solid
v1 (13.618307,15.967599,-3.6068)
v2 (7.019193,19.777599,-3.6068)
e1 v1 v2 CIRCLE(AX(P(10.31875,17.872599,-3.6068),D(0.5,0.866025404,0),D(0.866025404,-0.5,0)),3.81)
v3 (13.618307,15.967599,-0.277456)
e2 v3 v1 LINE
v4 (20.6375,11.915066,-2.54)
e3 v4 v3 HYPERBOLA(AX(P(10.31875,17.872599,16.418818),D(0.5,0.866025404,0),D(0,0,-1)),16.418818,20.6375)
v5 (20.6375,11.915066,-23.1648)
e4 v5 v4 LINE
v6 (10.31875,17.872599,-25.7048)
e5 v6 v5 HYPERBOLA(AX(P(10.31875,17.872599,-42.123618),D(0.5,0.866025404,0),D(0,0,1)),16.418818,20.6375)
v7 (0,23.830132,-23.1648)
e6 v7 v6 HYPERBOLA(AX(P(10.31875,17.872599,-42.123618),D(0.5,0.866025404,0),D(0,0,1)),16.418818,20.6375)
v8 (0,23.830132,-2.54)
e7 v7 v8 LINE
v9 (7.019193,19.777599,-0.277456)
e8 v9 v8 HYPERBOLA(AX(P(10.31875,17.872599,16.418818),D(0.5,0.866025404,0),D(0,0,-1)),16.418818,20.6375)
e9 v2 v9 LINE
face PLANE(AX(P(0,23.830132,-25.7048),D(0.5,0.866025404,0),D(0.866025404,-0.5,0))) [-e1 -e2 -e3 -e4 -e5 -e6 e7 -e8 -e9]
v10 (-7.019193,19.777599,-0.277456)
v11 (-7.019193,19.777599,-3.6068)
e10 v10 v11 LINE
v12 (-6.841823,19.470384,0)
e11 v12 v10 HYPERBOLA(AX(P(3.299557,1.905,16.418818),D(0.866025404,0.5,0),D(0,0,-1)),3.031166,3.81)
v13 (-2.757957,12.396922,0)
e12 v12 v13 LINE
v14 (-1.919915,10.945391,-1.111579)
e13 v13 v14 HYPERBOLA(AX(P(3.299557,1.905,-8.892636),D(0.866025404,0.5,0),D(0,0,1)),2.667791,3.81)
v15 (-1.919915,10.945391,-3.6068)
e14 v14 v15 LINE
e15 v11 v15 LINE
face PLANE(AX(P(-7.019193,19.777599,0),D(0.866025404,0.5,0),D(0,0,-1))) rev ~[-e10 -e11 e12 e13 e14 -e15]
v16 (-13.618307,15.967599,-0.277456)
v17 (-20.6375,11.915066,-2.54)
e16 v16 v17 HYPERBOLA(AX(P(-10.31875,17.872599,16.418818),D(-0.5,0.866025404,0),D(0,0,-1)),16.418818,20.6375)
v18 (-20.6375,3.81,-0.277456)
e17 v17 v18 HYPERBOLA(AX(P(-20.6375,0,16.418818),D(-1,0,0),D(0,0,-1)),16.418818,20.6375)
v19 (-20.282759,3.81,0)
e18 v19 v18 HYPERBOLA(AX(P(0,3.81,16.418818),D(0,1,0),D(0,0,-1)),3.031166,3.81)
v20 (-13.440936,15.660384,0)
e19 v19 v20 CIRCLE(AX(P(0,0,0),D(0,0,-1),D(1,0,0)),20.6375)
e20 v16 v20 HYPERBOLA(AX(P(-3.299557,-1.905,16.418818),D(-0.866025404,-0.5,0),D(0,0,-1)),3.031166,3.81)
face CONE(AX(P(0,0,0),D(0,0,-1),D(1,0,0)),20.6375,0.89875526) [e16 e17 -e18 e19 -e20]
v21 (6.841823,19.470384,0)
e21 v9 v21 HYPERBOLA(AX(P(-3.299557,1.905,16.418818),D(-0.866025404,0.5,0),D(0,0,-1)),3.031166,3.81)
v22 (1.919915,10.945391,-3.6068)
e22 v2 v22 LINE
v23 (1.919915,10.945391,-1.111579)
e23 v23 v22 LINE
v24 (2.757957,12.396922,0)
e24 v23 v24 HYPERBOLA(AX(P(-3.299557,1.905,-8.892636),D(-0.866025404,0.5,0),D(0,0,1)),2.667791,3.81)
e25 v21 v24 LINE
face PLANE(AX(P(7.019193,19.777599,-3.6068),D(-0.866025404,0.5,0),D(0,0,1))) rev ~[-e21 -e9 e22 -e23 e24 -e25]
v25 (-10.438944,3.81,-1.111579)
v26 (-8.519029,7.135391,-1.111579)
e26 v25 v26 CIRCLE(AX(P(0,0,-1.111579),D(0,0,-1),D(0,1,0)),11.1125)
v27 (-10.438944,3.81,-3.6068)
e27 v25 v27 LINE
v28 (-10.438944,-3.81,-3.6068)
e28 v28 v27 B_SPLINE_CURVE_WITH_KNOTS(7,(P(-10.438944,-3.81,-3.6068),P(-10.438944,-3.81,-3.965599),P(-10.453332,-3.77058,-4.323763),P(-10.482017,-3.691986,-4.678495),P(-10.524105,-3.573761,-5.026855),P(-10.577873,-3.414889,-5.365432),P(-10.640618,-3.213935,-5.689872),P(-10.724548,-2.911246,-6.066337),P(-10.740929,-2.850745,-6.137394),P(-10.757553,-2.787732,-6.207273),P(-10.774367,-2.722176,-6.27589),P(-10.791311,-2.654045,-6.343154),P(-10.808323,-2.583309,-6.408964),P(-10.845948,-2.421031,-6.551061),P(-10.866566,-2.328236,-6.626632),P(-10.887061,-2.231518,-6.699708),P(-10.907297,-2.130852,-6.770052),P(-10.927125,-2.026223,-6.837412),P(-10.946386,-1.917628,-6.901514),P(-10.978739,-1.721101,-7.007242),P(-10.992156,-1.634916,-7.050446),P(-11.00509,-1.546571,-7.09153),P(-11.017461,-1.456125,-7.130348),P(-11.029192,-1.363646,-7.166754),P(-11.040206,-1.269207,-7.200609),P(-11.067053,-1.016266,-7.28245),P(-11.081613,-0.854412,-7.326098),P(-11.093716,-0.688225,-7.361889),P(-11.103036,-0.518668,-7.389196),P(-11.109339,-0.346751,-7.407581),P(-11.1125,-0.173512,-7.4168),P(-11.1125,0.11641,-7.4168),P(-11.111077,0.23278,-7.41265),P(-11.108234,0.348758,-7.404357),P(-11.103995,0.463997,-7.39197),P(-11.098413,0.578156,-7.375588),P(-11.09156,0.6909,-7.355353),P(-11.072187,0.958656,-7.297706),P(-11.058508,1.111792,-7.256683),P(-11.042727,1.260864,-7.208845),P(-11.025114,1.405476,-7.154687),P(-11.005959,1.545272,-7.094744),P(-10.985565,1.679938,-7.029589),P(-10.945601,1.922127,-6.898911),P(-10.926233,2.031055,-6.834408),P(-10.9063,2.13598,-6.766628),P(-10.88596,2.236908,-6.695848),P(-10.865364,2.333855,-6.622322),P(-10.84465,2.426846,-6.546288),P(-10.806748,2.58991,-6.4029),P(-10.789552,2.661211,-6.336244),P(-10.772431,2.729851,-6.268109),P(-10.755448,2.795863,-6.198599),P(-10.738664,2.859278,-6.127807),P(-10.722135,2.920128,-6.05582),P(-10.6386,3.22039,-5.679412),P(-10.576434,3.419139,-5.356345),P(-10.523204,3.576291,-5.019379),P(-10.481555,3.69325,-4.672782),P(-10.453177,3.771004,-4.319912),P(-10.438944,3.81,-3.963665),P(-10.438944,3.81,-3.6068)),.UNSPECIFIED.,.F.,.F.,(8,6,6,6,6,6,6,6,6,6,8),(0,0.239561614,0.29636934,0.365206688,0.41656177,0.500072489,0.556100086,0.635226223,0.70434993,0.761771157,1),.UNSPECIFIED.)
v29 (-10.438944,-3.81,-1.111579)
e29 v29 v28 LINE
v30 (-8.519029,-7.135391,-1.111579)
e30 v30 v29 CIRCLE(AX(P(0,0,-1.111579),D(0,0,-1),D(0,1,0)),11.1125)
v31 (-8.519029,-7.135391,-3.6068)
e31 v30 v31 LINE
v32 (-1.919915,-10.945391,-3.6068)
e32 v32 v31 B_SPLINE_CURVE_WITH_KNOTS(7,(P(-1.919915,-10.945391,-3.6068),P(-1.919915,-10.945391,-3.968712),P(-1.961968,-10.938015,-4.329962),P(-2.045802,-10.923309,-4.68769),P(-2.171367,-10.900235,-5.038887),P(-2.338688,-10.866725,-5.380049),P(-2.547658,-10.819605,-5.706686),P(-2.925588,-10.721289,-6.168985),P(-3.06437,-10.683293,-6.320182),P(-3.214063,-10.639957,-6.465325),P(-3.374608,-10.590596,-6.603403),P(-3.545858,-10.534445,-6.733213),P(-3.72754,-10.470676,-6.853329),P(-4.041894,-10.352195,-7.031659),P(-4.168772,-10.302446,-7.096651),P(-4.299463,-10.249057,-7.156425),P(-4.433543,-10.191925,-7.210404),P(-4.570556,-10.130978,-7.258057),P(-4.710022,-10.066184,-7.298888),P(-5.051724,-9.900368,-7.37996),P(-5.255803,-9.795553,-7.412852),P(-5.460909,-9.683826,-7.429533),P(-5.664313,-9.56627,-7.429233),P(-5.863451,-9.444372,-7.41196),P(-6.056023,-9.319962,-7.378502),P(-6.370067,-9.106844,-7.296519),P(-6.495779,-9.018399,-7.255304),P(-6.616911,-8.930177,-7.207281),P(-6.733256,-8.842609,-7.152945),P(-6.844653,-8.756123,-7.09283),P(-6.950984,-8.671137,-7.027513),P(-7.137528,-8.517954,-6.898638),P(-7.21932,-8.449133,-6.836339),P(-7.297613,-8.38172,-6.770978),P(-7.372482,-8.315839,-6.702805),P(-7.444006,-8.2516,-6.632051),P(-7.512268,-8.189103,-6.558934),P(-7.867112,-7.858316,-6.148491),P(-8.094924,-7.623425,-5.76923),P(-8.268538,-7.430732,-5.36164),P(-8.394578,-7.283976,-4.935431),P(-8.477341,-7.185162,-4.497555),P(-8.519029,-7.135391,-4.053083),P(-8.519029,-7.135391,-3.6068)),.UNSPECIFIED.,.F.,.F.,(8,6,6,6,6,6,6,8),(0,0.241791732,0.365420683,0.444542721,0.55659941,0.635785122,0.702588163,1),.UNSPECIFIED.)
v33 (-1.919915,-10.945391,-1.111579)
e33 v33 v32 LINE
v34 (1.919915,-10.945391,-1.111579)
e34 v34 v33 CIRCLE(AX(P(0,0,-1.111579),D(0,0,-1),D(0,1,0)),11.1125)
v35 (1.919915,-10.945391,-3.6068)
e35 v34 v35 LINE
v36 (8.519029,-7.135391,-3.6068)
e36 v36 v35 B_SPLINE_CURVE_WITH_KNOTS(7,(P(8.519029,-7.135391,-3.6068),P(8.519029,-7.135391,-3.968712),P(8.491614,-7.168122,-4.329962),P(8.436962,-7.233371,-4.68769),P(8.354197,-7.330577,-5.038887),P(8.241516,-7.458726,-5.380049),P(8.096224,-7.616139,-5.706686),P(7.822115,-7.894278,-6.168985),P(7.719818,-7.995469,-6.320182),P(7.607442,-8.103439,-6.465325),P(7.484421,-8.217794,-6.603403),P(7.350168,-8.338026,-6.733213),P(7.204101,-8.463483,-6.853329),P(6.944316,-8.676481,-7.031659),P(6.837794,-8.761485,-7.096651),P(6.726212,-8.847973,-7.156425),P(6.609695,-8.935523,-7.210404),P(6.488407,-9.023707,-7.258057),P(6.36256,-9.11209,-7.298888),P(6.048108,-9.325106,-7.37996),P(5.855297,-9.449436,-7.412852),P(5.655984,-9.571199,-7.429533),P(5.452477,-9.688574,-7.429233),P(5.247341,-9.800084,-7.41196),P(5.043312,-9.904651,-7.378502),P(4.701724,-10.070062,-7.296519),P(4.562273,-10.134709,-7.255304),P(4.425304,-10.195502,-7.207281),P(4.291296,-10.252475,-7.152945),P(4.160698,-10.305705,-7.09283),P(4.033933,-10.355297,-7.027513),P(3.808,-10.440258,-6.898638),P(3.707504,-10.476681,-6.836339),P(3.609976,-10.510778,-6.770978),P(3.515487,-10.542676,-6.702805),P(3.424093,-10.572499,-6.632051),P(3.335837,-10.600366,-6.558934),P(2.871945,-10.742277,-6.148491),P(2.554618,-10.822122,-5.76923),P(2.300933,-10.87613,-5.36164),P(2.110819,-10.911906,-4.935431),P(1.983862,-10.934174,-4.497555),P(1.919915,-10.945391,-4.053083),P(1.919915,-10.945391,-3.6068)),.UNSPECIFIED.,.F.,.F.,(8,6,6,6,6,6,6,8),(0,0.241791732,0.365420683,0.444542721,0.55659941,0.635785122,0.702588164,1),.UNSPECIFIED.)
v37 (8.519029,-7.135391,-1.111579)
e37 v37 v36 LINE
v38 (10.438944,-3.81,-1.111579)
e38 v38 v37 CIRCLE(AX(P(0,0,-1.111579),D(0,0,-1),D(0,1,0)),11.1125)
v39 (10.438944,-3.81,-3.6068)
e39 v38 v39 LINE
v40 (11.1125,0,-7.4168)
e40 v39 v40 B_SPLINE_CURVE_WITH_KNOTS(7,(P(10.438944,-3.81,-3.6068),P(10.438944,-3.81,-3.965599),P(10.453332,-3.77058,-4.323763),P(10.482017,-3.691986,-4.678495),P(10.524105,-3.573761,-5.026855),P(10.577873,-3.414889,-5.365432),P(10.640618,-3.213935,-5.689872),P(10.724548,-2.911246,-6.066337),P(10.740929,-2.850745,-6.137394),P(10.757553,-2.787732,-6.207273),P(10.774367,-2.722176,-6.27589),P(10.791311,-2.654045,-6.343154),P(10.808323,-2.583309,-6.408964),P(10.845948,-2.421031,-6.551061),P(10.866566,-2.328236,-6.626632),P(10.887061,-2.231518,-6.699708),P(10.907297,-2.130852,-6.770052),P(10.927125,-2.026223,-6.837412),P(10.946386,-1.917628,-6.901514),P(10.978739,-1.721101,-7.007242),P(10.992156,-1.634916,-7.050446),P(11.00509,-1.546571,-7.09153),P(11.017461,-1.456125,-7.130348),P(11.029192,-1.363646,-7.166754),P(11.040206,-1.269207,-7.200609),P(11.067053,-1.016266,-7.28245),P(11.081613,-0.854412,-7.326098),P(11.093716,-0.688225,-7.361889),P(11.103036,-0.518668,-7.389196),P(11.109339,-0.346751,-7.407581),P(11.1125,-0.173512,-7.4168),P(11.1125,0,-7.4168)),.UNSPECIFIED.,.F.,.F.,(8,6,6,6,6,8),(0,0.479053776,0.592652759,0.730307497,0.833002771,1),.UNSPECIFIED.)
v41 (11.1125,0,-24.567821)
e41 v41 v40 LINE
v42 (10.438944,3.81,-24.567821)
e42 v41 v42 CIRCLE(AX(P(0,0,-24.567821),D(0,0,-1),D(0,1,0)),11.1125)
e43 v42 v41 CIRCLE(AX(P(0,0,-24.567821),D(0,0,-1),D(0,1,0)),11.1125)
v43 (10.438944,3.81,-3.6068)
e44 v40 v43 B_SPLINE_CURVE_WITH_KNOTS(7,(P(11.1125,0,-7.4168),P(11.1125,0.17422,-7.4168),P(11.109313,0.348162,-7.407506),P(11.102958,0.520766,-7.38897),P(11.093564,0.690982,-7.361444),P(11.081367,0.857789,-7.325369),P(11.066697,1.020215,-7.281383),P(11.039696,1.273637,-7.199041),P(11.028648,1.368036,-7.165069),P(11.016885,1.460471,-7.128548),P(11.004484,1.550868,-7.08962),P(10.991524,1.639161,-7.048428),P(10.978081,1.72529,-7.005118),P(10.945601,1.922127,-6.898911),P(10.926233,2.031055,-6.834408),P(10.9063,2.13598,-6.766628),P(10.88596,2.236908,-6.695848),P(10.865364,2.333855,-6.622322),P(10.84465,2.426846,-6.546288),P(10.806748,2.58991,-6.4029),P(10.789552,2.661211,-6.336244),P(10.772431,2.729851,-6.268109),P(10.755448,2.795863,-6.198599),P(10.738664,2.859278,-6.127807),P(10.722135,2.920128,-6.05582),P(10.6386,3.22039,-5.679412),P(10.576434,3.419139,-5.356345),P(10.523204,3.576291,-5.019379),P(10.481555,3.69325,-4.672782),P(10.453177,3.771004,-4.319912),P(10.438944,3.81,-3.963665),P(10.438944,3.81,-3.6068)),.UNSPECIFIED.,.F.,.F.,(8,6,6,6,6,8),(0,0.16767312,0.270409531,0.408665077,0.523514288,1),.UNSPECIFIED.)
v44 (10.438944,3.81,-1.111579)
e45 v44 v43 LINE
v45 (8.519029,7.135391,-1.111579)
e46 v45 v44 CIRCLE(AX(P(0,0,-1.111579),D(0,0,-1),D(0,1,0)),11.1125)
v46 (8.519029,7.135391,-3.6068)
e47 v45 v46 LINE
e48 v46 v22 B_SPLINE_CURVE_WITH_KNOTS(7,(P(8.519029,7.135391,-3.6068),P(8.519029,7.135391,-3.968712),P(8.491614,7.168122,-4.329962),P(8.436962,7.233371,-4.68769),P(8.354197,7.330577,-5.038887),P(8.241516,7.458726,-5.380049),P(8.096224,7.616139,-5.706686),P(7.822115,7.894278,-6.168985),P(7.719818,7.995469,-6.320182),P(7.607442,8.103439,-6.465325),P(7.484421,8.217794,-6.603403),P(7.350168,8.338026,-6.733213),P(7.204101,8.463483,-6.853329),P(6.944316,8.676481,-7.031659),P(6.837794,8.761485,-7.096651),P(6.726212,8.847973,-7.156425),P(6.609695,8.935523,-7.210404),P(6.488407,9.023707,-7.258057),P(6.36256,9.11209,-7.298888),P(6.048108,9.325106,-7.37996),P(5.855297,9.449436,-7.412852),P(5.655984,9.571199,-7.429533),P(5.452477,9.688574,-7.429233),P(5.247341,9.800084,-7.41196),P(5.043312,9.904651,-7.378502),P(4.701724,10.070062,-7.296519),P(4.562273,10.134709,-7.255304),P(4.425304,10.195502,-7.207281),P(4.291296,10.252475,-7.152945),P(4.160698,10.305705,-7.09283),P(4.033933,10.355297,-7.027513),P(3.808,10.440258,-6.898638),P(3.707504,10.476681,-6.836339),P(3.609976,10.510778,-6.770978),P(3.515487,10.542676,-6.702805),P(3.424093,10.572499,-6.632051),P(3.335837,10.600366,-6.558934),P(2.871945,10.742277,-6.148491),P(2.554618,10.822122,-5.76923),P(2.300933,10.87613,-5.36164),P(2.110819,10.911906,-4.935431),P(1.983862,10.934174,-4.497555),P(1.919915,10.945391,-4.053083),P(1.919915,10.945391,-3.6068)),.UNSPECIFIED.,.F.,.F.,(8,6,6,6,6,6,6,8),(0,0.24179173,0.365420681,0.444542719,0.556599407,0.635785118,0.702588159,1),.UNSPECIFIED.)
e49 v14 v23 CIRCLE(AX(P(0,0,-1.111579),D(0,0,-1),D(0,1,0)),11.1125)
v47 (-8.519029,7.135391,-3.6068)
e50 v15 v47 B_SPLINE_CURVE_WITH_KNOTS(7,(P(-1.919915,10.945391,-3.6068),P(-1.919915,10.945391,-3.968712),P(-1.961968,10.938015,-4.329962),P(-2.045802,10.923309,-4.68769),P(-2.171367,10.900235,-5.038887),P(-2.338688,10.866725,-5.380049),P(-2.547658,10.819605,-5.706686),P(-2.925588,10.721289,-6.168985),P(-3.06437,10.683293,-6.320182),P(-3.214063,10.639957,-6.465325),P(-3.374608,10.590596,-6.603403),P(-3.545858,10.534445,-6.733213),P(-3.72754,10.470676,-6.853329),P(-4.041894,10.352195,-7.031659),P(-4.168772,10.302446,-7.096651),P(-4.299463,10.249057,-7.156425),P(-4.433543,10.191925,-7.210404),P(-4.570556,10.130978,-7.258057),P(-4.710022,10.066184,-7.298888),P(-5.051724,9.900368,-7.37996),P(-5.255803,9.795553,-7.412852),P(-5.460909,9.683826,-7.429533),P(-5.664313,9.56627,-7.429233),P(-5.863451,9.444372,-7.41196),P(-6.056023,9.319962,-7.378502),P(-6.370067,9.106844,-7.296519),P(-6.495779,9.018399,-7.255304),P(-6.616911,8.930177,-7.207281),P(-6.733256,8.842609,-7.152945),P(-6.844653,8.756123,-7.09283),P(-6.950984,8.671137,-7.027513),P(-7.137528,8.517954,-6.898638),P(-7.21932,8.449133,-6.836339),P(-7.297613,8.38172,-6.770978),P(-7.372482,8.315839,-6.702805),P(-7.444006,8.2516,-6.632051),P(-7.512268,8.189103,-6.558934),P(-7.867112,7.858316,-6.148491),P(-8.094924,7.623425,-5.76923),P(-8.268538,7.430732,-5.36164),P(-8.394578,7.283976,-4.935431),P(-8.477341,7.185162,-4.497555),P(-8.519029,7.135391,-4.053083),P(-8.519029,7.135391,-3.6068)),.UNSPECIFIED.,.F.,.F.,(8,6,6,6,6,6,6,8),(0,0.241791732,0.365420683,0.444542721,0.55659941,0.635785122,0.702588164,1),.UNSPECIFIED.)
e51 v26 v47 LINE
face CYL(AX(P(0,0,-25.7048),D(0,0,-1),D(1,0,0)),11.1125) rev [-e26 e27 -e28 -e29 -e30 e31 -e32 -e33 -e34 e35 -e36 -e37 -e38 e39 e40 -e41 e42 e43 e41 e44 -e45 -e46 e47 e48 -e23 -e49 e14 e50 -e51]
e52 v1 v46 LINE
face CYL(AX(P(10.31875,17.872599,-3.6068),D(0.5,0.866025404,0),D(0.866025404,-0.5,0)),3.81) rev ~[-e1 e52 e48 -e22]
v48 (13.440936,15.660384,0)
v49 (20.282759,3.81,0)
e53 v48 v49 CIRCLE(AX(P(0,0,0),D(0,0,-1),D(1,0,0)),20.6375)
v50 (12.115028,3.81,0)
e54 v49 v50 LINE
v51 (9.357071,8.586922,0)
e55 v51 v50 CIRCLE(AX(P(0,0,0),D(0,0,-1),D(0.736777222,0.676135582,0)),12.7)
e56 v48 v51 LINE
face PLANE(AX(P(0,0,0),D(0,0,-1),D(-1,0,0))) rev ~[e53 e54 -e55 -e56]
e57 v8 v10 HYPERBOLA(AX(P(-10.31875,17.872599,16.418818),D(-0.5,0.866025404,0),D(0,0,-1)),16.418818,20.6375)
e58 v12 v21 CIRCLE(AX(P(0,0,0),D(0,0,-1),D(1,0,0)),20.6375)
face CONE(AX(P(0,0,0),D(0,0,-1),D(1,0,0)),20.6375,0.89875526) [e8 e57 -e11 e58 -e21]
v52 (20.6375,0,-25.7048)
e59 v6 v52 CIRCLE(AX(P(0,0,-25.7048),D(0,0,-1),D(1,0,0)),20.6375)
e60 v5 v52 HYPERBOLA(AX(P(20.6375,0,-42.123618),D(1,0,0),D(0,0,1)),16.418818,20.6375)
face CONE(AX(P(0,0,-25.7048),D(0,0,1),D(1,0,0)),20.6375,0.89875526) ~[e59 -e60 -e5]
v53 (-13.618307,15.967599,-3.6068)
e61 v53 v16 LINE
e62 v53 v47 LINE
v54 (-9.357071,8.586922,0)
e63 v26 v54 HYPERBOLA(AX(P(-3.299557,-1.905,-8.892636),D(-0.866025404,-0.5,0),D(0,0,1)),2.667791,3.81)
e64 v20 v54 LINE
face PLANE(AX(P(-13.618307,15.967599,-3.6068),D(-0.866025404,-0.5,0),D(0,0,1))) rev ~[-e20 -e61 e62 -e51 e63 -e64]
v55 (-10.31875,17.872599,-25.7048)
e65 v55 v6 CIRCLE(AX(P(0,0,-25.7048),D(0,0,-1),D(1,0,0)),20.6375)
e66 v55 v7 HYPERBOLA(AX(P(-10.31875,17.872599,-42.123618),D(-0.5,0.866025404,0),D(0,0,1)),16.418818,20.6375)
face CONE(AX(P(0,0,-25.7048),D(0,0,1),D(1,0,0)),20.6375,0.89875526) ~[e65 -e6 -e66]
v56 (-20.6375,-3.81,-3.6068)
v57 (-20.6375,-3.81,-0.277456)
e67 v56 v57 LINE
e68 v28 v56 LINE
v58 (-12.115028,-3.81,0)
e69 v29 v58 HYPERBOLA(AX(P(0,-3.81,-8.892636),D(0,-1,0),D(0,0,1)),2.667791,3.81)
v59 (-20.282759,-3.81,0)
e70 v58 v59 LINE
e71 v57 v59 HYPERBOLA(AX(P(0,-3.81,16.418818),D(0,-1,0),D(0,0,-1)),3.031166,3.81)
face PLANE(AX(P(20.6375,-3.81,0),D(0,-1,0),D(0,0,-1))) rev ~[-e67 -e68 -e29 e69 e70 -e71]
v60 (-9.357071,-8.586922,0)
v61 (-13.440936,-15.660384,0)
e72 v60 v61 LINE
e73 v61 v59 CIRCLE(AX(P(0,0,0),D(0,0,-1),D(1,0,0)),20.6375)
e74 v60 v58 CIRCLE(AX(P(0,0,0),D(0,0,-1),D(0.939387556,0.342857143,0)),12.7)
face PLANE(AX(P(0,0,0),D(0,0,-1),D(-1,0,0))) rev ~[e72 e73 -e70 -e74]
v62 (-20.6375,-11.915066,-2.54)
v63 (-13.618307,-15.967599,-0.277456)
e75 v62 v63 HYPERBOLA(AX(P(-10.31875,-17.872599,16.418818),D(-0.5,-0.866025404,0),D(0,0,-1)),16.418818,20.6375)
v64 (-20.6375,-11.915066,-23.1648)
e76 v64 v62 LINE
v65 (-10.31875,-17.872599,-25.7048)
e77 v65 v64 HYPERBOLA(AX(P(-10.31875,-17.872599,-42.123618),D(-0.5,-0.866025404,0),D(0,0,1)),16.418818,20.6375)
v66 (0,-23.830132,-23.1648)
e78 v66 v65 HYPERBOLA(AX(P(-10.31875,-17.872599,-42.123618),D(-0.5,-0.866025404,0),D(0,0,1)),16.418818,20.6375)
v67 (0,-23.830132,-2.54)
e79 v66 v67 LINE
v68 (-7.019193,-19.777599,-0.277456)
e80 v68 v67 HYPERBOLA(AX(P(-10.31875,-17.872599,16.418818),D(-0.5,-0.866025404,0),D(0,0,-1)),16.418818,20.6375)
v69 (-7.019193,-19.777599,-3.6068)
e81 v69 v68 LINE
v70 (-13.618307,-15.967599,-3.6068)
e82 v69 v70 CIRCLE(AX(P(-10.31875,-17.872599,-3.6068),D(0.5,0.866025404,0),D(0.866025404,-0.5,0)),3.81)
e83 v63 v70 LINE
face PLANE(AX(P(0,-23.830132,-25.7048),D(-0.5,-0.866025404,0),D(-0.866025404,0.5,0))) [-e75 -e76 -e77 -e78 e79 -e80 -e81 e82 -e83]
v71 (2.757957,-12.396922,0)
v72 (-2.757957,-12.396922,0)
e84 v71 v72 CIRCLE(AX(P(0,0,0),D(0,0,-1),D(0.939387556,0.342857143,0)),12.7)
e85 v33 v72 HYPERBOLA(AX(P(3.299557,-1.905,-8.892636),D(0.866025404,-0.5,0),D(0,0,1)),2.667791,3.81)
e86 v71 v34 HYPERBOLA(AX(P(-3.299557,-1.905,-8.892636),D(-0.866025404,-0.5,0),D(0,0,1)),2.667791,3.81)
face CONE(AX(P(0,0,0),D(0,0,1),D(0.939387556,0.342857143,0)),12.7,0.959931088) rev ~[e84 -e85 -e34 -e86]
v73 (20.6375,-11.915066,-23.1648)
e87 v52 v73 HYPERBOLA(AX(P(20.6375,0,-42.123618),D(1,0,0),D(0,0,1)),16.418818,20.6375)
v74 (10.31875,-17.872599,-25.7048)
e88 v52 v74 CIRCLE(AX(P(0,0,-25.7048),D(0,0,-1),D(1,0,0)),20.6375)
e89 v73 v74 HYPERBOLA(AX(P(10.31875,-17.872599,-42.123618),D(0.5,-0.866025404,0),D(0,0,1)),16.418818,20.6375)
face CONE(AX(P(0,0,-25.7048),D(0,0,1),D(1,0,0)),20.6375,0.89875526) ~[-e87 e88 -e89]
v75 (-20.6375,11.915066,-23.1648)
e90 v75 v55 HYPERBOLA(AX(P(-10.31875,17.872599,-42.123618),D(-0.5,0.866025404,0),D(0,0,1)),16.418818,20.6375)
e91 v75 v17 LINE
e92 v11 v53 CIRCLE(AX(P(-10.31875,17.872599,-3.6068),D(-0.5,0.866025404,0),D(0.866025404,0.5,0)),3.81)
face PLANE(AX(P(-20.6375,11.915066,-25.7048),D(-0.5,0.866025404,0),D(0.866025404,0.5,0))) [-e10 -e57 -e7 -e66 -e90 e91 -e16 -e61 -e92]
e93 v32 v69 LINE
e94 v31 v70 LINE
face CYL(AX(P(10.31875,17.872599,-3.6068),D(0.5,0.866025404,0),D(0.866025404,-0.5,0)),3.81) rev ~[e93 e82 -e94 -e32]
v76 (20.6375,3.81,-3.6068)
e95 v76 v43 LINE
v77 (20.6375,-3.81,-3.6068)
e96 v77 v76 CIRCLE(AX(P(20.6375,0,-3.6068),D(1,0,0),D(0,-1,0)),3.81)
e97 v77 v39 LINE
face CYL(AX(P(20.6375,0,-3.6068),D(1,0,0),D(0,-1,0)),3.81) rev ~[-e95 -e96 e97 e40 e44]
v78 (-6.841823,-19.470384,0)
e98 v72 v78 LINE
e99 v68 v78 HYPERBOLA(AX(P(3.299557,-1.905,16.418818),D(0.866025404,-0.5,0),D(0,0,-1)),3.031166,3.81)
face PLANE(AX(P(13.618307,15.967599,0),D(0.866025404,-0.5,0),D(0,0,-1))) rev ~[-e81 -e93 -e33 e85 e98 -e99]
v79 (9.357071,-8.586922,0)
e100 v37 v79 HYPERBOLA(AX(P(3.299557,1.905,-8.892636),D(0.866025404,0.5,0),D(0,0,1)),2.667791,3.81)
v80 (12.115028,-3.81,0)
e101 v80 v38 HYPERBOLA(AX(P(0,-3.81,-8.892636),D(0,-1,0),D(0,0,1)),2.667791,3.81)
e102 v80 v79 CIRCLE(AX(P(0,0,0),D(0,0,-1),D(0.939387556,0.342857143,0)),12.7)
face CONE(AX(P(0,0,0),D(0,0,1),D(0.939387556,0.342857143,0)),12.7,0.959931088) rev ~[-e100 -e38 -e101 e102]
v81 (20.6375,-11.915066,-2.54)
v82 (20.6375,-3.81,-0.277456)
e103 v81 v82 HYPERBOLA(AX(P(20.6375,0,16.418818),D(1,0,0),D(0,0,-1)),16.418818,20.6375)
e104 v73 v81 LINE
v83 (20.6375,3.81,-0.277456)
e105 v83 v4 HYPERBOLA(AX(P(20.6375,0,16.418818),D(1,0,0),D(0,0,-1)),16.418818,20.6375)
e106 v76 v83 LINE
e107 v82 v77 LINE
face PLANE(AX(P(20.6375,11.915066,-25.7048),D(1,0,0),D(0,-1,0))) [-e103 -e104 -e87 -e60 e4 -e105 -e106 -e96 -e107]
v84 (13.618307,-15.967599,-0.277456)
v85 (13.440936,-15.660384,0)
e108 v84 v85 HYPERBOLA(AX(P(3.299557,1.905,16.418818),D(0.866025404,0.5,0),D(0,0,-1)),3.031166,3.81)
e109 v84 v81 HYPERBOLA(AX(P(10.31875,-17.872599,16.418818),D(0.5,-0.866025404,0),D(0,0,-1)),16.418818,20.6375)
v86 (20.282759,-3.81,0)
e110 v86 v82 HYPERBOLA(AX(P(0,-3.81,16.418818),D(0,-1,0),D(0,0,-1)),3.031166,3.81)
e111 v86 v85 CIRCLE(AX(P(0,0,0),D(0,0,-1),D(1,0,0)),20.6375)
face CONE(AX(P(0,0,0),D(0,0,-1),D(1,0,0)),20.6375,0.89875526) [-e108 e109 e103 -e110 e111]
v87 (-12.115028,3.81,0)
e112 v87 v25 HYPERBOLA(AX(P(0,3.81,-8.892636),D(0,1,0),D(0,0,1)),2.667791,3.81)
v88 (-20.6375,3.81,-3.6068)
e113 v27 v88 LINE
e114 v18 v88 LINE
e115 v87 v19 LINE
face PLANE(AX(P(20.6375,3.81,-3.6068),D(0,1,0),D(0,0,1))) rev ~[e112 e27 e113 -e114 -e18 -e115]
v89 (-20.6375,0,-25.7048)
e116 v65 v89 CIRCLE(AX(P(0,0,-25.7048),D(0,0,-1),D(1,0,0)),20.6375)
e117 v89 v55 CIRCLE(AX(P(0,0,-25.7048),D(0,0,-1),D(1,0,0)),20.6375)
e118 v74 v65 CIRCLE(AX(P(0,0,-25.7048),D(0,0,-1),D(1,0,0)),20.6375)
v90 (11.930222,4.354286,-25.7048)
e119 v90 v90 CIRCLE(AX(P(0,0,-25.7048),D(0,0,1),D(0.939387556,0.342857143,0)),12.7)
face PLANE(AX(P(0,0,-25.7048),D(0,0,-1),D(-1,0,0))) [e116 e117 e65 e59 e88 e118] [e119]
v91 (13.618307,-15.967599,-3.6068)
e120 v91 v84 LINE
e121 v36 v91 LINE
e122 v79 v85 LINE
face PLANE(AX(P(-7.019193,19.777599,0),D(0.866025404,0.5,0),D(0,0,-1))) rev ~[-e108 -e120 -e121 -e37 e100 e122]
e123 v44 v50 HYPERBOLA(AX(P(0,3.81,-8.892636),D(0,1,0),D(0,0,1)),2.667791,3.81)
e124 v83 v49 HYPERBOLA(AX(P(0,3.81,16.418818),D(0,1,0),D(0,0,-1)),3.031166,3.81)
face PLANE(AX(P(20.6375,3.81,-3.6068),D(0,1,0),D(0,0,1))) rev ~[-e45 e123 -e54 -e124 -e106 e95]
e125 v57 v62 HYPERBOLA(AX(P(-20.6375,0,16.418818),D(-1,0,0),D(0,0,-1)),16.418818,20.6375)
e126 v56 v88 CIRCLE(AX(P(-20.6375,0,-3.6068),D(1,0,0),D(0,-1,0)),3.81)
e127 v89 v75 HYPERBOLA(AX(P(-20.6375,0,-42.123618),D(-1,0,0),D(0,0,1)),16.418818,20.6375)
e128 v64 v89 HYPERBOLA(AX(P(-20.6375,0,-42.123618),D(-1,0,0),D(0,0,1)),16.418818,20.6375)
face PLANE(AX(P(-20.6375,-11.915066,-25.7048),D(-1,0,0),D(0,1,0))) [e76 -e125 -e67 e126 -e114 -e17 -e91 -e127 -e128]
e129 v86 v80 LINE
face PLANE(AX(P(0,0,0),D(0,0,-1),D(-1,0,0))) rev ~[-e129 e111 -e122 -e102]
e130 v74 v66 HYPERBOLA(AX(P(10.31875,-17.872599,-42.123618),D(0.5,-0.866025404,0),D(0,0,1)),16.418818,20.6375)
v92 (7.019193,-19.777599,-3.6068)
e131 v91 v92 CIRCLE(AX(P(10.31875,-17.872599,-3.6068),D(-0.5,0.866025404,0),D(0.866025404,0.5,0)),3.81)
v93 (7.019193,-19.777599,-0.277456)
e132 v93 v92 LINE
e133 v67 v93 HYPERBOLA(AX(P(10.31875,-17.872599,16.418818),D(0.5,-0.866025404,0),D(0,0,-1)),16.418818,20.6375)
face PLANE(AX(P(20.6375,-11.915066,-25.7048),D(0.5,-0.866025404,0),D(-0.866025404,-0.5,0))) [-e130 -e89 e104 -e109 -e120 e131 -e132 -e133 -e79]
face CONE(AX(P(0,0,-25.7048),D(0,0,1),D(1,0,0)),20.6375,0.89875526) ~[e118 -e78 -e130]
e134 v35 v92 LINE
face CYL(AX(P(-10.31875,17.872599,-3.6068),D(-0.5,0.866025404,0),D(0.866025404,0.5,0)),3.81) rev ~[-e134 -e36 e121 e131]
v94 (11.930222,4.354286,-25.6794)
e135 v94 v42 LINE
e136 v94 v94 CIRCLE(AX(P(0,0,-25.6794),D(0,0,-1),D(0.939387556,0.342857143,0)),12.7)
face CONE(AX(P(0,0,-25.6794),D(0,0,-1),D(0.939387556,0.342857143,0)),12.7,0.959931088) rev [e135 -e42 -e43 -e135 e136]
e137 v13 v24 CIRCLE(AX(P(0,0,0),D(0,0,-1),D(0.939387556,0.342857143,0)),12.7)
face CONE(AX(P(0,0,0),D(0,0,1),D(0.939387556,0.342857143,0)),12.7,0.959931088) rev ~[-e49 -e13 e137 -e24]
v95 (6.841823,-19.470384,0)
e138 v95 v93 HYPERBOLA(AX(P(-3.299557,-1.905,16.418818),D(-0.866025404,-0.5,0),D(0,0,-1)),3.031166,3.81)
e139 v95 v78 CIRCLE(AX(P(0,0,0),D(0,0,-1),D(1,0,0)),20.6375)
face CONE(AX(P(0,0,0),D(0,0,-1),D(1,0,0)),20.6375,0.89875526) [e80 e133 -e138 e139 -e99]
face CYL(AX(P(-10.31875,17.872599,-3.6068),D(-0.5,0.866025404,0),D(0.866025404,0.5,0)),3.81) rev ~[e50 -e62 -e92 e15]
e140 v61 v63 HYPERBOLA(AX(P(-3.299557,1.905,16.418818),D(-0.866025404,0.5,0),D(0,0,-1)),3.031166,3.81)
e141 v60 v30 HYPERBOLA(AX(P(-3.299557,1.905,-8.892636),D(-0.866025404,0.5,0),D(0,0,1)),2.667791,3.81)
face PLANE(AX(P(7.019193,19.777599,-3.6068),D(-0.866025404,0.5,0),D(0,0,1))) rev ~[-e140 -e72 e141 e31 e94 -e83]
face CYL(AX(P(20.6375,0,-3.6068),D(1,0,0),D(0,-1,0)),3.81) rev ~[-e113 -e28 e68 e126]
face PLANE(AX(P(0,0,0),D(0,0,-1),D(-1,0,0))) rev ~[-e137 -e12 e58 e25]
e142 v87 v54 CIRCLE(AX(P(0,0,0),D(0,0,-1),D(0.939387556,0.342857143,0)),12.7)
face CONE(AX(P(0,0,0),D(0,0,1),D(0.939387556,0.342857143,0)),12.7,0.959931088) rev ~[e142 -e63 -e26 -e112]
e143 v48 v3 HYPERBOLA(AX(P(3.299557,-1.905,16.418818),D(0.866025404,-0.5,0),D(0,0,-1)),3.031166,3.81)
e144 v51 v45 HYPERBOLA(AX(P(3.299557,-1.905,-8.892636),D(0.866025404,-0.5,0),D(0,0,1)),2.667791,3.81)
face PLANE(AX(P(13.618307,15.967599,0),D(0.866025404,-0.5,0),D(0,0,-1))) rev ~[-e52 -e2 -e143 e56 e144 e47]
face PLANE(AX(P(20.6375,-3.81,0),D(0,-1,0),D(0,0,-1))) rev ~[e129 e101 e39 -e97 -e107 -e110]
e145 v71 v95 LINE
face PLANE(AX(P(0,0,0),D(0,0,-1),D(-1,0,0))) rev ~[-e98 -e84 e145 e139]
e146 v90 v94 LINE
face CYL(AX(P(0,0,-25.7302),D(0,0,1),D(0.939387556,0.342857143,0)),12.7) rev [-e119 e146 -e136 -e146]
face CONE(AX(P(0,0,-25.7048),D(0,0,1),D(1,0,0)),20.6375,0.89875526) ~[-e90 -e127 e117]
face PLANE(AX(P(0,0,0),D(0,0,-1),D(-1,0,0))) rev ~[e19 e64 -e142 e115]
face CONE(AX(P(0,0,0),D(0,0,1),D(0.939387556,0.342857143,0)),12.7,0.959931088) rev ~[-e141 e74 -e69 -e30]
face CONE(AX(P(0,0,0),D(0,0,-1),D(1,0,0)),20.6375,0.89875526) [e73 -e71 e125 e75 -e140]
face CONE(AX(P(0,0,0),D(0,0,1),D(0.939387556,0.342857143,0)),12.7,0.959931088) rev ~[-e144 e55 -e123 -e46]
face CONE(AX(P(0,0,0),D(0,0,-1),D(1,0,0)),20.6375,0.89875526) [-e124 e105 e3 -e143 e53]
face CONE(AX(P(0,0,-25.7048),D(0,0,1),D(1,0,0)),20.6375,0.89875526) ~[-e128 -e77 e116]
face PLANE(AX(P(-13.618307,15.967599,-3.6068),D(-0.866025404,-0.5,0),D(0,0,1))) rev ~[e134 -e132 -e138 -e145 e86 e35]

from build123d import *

# Parameters (mm, degrees)
BASENUT_START     = -25.7048
BASENUTSKE_R      = 11.1125
BASENUT_DEPTH     = 25.7048
SLOT_DEPTH        = 55.150139209
SLOTPATTERN_COUNT = 3
SLOTPATTERN_ANGLE = 120


with BuildPart() as part:
    # BaseNutSke → BaseNut (new body)
    with BuildSketch(Plane.XY.offset(BASENUT_START)):
        Polygon((20.6375, 11.91506618), (20.6375, -11.91506618), (0, -23.830132361), (-20.6375, -11.91506618), (-20.6375, 11.91506618), (0, 23.830132361), align=None)
        Circle(BASENUTSKE_R, mode=Mode.SUBTRACT)
    extrude(amount=BASENUT_DEPTH)

    # Sketch4 → Slot (cut, through all)
    with BuildSketch(Plane(origin=(20.6375, 0, 0), x_dir=(0, 0, -1), z_dir=(1, 0, 0))):
        with BuildLine():
            Line((3.6068, 3.81), (0, 3.81))
            Line((0, 3.81), (0, -3.81))
            Line((0, -3.81), (3.6068, -3.81))
            ThreePointArc((3.6068, -3.81), (7.4168, 0), (3.6068, 3.81))
        make_face()
    slot = extrude(amount=-SLOT_DEPTH, mode=Mode.SUBTRACT)

    # SlotPattern: Slot ×3 about axis
    slotpattern_axis = Axis((0, 0, 0), (0, 0, 1))
    for i in range(1, SLOTPATTERN_COUNT):
        add(slot.rotate(slotpattern_axis, i * SLOTPATTERN_ANGLE / (SLOTPATTERN_COUNT - 1)), mode=Mode.SUBTRACT)

    # Sketch3 → Double-Chamfer (revolve, cut)
    with BuildSketch(Plane(origin=(0, 0, 0), x_dir=(0, 0, -1), z_dir=(1, 0, 0)), mode=Mode.PRIVATE) as double_chamfer_sk:
        Polygon((25.7048, 20.6375), (23.1648, 23.830132361), (23.1648, 36.530132361), (38.4048, 36.530132361), (38.4048, 20.6375), align=None)
        Polygon((2.54, 23.830132361), (2.54, 36.530132361), (-12.7, 36.530132361), (-12.7, 20.6375), (0, 20.6375), align=None)
    revolve(double_chamfer_sk.sketch.rotate(Axis((0, 0, 0), (0, 0, -1)), 90), axis=Axis((0, 0, 0), (0, 0, -1)), mode=Mode.SUBTRACT)

    # EndChamferSketch → EndChamfer (revolve, cut)
    with BuildSketch(Plane(origin=(0, 0, 0), x_dir=(0, 0, -1), z_dir=(1, 0, 0)), mode=Mode.PRIVATE) as endchamfer_sk:
        Polygon((25.6794, 12.7), (24.456662586, 10.95375), (25.7302, 10.95375), (25.7302, 12.7), align=None)
        Polygon((-0.0508, 12.7), (0, 12.7), (1.222737414, 10.95375), (-0.0508, 10.95375), align=None)
    revolve(endchamfer_sk.sketch.rotate(Axis((0, 0, -25.037505729), (0, 0, -1)), 69.948957433), axis=Axis((0, 0, -25.037505729), (0, 0, -1)), mode=Mode.SUBTRACT)


solid = part.part
